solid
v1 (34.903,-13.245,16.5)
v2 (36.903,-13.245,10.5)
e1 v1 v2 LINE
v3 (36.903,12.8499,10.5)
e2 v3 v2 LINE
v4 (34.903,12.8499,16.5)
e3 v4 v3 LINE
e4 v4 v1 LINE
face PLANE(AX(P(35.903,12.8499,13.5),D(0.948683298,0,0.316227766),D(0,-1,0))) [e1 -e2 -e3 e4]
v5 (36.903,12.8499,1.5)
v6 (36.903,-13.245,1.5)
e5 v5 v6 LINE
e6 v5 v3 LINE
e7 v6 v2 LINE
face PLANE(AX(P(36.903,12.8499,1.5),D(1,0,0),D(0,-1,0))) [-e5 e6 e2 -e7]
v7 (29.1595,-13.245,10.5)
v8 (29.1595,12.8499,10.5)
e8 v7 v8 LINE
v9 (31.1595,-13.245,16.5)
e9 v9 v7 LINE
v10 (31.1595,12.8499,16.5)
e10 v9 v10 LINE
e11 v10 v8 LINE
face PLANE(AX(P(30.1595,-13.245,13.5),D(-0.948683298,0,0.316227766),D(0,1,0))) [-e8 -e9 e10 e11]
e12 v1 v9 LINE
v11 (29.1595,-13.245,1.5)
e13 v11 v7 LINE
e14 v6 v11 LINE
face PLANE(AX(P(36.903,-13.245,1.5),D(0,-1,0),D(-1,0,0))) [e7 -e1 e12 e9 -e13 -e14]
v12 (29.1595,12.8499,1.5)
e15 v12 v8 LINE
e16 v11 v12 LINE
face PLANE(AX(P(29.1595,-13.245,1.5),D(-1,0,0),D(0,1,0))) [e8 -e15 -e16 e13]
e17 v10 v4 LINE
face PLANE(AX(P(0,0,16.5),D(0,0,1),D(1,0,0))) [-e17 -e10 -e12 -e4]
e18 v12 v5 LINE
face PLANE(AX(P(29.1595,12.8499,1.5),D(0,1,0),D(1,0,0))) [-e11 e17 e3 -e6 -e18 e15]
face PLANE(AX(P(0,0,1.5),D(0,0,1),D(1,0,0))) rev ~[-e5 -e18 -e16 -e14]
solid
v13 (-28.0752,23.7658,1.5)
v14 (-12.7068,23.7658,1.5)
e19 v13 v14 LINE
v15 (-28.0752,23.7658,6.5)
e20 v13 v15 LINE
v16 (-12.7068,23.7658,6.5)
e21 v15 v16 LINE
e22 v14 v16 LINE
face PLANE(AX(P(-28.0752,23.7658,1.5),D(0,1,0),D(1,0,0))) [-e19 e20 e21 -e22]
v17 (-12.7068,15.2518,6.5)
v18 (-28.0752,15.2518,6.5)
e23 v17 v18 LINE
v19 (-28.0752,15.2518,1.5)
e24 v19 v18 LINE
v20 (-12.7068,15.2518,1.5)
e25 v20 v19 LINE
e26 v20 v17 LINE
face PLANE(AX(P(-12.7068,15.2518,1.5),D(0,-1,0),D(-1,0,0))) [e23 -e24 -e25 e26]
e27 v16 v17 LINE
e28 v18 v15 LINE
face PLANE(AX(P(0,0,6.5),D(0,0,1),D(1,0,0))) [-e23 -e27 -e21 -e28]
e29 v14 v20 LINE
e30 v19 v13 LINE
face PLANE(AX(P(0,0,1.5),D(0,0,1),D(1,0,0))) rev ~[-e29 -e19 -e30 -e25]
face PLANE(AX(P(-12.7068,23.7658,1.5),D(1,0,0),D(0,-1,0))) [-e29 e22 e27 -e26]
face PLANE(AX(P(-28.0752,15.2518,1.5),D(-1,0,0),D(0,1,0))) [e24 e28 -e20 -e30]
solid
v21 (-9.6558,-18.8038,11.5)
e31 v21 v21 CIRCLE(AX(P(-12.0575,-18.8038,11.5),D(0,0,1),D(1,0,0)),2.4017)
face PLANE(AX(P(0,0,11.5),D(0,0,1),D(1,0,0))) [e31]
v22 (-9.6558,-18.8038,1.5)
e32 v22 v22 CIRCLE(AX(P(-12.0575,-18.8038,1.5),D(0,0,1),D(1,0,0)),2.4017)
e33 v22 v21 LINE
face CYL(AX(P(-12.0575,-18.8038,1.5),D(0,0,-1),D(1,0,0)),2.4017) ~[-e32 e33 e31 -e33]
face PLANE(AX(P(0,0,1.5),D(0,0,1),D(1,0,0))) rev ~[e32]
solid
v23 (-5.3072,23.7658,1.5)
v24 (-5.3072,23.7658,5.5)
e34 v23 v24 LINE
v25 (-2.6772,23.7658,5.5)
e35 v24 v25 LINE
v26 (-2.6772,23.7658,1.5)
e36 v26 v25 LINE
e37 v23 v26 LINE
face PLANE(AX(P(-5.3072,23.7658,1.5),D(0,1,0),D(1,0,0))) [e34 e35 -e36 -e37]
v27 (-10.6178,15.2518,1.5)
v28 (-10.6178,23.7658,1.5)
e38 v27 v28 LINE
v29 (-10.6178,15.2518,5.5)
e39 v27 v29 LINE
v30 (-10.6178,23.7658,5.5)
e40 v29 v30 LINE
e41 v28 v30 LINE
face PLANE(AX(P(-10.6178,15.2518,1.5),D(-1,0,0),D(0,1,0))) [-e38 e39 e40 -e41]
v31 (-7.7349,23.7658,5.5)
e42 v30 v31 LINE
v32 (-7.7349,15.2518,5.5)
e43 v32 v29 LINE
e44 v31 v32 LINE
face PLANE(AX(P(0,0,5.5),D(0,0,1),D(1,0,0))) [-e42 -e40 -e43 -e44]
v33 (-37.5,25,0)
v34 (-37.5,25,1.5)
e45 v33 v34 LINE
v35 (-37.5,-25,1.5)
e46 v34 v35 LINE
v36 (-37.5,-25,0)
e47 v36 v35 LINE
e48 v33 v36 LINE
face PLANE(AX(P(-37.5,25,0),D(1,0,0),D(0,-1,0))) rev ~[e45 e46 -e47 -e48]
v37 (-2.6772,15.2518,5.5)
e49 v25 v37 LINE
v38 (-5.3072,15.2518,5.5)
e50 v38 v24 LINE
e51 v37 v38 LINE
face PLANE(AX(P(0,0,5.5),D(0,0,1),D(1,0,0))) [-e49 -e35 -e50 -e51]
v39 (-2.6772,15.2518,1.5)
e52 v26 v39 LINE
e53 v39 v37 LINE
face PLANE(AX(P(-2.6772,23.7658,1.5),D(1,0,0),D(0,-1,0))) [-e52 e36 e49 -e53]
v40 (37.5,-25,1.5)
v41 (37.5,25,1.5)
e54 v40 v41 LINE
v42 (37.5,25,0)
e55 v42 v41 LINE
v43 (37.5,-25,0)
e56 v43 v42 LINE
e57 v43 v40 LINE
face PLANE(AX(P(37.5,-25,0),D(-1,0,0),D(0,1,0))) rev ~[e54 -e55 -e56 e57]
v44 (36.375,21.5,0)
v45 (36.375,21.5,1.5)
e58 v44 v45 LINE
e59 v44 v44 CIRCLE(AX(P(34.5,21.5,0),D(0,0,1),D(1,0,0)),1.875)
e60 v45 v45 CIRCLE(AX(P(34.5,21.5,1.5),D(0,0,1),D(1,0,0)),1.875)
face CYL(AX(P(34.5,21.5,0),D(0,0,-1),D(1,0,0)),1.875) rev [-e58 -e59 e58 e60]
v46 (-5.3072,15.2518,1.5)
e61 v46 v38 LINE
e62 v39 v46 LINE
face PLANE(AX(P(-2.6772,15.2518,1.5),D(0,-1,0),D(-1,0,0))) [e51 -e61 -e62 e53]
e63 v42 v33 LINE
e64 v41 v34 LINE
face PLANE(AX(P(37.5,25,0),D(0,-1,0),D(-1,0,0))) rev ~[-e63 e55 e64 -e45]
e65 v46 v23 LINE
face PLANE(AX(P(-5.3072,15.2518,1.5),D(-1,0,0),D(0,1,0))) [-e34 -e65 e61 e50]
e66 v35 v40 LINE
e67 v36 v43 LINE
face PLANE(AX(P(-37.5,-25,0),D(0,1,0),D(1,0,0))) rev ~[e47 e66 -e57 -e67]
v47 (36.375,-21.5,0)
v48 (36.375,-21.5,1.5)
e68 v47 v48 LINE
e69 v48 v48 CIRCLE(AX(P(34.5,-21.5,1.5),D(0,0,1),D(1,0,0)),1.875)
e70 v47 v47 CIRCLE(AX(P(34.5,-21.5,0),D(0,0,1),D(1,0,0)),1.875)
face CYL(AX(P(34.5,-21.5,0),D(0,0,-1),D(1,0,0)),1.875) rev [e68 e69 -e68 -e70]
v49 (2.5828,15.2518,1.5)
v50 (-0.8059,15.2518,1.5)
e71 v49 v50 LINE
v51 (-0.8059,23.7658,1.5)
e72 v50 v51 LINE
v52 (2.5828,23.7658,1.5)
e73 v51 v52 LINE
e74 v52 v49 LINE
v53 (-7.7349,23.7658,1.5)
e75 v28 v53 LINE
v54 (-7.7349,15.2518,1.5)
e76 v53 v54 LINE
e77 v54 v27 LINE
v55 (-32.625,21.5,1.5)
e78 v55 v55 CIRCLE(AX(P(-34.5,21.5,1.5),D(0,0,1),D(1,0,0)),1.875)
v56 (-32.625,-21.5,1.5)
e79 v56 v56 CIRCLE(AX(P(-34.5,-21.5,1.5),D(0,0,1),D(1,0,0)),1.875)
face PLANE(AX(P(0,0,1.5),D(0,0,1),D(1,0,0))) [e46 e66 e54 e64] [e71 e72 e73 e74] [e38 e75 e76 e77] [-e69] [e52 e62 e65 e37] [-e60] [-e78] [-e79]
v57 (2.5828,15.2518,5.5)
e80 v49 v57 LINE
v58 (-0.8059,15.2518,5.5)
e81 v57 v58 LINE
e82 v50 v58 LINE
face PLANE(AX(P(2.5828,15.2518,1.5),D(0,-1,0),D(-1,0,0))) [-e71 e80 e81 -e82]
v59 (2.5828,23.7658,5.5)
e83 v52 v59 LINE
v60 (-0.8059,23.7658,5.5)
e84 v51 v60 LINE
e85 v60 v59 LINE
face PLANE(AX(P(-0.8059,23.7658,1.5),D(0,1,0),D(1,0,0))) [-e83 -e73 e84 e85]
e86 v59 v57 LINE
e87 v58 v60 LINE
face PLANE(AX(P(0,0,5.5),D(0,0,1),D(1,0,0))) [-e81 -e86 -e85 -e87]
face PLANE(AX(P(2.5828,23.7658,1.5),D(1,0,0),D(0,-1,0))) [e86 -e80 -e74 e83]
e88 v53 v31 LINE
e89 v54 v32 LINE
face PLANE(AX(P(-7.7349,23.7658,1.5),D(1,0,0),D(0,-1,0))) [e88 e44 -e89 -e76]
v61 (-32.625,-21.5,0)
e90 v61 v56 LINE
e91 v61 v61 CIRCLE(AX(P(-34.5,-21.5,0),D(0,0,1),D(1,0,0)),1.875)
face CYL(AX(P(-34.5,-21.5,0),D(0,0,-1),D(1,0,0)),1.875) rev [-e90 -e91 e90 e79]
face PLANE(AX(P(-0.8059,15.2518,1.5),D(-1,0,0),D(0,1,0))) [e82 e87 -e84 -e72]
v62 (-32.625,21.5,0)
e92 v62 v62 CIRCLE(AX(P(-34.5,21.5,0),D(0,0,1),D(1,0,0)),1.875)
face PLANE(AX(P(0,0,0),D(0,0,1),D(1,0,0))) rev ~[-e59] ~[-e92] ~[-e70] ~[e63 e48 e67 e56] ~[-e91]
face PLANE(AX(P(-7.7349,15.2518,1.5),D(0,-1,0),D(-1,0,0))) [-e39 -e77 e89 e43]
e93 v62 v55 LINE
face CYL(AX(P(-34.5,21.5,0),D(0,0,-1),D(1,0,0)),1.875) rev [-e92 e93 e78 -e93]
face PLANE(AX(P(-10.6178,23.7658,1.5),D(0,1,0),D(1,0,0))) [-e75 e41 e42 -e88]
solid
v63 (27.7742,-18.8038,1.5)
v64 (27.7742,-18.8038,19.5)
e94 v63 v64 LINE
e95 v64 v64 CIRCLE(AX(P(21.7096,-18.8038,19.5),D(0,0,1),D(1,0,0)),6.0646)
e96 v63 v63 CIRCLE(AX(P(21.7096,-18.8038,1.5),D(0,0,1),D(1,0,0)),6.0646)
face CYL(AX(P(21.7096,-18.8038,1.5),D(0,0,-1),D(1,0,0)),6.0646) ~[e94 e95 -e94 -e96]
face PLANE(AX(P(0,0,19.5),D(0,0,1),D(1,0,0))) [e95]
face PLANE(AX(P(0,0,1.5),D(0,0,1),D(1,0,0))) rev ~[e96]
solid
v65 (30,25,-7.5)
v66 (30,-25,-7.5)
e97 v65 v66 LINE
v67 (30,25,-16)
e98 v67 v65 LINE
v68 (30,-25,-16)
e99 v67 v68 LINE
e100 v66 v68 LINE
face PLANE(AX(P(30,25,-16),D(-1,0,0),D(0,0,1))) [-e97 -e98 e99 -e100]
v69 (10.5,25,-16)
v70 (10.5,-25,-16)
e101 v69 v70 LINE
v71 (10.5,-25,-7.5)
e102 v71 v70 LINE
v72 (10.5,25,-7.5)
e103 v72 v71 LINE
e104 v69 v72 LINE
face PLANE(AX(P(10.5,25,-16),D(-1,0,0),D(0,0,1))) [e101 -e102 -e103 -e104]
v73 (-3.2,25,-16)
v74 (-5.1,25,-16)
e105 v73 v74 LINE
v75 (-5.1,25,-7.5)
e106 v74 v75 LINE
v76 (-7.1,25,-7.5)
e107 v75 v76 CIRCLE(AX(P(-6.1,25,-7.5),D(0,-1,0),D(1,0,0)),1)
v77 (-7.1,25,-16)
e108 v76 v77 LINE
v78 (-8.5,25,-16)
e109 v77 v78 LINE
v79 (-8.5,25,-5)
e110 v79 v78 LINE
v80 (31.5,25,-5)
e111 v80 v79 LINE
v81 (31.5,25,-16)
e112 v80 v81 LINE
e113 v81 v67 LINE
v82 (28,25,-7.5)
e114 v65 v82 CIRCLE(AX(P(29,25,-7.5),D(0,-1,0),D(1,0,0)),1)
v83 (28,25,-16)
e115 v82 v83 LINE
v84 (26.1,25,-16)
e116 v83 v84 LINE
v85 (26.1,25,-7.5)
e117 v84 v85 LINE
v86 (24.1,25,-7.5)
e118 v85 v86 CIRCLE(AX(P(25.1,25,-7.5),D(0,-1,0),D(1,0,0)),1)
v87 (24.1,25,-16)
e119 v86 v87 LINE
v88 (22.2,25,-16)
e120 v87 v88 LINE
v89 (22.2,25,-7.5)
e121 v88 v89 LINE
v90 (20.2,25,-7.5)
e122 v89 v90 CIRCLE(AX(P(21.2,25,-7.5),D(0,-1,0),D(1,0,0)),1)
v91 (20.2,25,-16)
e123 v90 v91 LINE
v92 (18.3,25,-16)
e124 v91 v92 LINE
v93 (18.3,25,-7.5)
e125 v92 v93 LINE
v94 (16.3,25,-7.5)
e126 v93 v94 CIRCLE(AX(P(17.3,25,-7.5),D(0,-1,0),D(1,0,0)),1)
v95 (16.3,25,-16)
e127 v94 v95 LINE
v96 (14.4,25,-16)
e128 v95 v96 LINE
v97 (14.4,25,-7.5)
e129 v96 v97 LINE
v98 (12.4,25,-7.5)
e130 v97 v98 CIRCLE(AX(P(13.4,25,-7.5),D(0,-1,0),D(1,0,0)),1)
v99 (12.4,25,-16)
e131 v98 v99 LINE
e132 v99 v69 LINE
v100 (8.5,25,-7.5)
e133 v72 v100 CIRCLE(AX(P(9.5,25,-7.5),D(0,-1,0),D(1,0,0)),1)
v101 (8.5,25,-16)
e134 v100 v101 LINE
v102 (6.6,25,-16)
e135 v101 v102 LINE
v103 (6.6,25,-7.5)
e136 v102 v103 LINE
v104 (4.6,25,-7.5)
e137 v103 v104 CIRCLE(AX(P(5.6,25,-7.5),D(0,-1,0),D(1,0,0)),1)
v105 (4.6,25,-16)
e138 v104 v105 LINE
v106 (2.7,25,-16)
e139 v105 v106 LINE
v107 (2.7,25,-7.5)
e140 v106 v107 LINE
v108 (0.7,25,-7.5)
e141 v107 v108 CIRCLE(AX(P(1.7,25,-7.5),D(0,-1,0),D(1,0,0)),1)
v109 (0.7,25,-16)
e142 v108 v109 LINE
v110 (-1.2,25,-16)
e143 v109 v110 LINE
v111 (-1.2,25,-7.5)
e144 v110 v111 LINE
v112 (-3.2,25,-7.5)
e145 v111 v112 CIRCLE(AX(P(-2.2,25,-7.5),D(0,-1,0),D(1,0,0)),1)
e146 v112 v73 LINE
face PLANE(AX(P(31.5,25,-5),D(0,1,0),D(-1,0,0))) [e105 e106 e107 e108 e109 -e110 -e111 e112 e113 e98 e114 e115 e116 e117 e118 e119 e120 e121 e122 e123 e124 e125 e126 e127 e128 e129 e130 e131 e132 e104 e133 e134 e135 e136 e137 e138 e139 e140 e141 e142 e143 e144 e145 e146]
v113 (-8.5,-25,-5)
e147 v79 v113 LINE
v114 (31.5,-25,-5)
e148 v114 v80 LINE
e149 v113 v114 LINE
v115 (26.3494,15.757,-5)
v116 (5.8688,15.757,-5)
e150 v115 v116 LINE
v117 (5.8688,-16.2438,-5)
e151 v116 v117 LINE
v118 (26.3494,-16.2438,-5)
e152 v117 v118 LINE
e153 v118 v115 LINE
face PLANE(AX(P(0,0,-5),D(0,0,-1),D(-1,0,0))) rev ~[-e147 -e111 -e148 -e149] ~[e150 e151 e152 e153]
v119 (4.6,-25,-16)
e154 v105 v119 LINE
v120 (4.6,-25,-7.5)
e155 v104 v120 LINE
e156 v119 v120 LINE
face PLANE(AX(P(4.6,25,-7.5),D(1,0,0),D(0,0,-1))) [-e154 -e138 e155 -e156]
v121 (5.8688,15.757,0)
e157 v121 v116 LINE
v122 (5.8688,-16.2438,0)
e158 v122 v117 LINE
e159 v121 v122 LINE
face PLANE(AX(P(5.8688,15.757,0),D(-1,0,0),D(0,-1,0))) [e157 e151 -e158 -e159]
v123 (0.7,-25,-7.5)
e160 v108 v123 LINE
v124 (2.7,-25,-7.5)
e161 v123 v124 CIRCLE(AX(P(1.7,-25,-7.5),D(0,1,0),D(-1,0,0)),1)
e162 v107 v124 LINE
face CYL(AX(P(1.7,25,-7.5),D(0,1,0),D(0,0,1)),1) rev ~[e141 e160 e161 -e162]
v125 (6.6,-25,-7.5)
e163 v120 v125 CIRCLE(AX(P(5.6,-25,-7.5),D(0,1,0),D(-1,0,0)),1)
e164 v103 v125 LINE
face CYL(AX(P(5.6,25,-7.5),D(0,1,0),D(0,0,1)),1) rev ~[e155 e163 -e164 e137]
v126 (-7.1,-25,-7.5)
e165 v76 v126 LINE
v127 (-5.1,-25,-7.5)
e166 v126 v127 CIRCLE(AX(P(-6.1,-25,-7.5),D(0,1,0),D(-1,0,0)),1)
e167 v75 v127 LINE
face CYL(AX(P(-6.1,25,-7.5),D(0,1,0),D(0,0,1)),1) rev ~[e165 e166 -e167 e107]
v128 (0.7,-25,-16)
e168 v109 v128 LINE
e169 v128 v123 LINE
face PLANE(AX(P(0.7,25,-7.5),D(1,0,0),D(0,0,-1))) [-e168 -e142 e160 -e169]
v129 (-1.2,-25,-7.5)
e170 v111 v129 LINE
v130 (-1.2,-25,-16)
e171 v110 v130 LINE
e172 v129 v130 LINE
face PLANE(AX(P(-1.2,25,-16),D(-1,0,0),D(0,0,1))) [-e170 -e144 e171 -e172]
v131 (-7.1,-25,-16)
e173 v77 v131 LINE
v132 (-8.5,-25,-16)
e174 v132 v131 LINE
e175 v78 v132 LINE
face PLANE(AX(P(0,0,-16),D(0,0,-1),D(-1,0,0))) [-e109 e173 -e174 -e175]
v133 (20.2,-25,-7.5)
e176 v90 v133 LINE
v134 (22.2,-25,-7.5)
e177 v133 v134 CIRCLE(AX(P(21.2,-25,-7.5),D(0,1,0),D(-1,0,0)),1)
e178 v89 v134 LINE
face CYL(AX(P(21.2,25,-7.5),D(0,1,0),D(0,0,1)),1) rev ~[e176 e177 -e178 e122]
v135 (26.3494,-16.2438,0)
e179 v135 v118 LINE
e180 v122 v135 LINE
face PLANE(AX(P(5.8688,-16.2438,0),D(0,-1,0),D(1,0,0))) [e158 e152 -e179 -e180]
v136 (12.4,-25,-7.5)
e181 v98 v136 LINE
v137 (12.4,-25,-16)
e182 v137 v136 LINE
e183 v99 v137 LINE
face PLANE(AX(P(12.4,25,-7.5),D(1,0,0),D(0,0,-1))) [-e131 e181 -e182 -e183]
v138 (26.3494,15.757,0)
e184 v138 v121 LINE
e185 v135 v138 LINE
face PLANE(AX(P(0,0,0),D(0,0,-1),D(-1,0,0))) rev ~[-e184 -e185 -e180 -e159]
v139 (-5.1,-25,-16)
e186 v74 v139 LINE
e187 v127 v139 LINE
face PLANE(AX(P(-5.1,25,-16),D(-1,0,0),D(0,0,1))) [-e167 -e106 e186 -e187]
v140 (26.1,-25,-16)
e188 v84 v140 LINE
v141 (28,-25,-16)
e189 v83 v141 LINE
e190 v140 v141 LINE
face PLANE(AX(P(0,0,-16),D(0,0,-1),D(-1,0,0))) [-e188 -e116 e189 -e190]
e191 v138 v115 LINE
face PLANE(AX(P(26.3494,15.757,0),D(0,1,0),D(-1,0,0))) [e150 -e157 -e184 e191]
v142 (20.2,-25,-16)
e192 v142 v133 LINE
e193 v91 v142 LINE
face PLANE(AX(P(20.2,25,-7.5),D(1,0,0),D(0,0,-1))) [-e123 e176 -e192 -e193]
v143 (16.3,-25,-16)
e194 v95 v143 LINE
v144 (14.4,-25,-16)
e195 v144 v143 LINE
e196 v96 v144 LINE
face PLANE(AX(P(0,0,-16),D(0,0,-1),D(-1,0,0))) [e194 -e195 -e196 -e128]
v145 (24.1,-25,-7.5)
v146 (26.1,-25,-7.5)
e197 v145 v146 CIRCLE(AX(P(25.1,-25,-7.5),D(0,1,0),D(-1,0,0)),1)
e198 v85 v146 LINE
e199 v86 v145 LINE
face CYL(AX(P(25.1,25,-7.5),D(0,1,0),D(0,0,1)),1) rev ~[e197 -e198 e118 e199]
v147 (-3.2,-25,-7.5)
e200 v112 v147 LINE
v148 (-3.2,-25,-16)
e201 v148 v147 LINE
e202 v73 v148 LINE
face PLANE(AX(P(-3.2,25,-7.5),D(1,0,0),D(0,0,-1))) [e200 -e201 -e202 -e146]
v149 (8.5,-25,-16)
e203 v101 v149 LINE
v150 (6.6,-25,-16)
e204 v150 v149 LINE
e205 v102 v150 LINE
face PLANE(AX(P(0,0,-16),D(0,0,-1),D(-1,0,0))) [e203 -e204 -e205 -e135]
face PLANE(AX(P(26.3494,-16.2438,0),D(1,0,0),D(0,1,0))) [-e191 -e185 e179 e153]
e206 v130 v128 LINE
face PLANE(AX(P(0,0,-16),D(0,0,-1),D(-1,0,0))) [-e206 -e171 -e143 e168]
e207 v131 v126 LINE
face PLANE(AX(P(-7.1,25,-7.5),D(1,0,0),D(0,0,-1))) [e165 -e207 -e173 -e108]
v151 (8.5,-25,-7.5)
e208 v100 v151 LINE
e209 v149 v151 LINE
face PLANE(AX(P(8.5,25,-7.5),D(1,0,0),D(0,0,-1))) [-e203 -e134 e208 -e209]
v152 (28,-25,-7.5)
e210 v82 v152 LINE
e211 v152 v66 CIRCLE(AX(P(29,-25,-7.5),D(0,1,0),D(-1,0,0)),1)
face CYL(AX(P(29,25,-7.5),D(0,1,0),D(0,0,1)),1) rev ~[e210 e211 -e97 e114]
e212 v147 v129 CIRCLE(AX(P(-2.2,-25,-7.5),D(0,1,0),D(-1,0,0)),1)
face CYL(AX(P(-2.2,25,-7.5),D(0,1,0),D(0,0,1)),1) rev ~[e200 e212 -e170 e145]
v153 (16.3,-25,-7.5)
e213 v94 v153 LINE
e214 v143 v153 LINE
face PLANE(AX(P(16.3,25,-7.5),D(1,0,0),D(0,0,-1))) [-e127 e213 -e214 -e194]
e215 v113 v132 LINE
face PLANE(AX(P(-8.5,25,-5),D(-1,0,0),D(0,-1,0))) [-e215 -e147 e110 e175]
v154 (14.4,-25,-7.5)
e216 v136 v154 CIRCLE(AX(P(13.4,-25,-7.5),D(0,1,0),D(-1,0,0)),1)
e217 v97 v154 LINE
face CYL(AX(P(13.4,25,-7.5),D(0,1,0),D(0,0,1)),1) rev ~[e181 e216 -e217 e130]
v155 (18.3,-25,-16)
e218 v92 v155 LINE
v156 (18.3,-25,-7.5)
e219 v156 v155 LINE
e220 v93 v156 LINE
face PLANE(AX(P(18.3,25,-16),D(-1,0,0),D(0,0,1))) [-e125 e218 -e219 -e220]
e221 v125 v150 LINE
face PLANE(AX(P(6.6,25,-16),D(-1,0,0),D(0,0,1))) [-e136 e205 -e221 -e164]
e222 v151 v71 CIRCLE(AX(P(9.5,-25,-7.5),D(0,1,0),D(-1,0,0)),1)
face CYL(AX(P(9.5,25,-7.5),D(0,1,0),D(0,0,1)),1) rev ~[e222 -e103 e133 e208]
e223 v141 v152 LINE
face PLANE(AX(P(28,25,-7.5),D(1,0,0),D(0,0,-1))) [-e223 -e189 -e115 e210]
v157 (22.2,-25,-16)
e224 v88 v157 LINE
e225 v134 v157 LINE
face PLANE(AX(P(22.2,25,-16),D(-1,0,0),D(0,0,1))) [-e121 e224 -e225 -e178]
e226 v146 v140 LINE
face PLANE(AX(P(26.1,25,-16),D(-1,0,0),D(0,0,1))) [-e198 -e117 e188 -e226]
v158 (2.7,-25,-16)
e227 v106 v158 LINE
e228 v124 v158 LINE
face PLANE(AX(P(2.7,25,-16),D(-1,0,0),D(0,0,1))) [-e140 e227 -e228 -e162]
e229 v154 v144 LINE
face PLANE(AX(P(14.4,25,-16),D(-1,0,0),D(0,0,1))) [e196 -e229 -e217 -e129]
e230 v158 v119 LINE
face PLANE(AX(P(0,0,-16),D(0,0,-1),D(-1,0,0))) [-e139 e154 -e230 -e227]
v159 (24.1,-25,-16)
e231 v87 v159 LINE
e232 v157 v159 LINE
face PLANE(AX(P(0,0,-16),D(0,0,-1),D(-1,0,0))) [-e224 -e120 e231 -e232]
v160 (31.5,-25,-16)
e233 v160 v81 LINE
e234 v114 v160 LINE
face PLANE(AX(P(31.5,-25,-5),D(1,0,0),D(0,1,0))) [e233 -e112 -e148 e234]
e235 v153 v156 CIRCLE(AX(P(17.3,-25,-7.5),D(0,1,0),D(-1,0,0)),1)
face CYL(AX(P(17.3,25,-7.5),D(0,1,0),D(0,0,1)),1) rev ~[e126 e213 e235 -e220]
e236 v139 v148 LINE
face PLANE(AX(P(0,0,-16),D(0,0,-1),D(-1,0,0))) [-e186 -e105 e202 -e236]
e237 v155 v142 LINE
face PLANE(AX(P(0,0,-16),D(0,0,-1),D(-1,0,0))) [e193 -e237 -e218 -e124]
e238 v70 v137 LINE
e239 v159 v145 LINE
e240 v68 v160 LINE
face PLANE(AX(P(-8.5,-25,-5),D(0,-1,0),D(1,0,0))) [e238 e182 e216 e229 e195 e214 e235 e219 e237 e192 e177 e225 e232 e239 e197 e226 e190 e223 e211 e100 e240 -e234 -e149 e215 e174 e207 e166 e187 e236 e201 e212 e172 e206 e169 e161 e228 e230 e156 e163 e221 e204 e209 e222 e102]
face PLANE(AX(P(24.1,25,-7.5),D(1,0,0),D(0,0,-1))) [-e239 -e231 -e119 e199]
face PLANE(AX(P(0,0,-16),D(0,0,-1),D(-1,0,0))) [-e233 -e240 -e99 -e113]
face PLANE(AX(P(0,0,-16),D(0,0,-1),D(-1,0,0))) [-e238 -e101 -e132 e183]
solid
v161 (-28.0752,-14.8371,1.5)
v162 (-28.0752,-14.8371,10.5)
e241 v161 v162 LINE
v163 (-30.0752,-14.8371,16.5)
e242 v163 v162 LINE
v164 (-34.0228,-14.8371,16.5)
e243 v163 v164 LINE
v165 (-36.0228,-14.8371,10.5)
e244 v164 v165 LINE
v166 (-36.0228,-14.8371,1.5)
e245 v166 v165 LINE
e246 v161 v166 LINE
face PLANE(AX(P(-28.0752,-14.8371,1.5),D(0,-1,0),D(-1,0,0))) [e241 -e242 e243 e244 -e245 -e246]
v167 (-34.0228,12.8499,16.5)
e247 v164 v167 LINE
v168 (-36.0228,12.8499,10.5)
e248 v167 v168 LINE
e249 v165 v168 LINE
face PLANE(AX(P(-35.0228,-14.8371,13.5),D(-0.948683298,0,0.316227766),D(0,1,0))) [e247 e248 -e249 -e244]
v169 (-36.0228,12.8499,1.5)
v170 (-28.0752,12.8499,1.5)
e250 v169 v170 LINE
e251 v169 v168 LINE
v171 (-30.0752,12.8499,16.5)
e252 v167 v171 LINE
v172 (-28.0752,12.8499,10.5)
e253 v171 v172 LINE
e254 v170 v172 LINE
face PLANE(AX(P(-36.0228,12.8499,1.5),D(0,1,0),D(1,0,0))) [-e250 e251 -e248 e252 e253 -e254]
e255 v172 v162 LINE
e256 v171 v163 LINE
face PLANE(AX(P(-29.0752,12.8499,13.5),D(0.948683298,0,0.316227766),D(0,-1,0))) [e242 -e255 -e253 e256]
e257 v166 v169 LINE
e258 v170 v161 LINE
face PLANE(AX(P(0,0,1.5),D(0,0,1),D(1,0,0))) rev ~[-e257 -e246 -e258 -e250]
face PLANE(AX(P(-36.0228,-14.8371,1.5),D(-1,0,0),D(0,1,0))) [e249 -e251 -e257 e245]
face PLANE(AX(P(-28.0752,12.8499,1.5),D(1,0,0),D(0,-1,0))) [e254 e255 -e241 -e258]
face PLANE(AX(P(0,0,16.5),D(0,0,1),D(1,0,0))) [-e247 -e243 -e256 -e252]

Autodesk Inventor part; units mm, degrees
ref_plane "YZ Plane" through (0, 0, 0) normal (1, 0, 0) x (0, 1, 0)
ref_plane "XZ Plane" through (0, 0, 0) normal (0, 1, 0) x (-1, 0, 0)
ref_plane "XY Plane" through (0, 0, 0) normal (0, 0, 1) x (1, 0, 0)
sketch "Skizze1" plane through (0, 0, 0) normal (0, 0, 1) x (1, 0, 0)
  line L0 (-37.5, -25) -> (37.5, -25)
  line L1 (37.5, -25) -> (37.5, 25)
  line L2 (37.5, 25) -> (-37.5, 25)
  line L3 (-37.5, 25) -> (-37.5, -25)
  line L4 (-37.5, -25) -> (37.5, 25) construction
  line L5 (37.5, -25) -> (-37.5, 25) construction
  circle A0 centre (-34.5, 21.5) radius 1.875
  circle A1 centre (-34.5, -21.5) radius 1.875
  line L6 (-34.5, 21.5) -> (-34.5, -21.5) construction
  line L7 (-37.5, 0) -> (37.5, 0) construction
  line L8 (34.5, -21.5) -> (-34.5, -21.5) construction
  line L9 (-34.5, -21.5) -> (-34.5, 21.5) construction
  line L10 (-34.5, 21.5) -> (34.5, 21.5) construction
  line L11 (34.5, 21.5) -> (34.5, -21.5) construction
  line L12 (34.5, -21.5) -> (-34.5, 21.5) construction
  line L13 (-34.5, -21.5) -> (34.5, 21.5) construction
  circle A2 centre (34.5, 21.5) radius 1.875
  circle A3 centre (34.5, -21.5) radius 1.875
  point P0 (0, 0)
  point P1 (-34.5, 0)
  dimension "d0" = 75
  dimension "d1" = 50
  dimension "d2" = 43
  dimension "d3" = 3.75
  dimension "d4" = 69
extrude "Extrusion1" add sketch "Skizze1" along normal blind 1.5
sketch "Skizze2" plane through (0, 0, 1.5) normal (0, 0, 1) x (1, 0, 0)
  circle A0 centre (21.7096, -18.8038) radius 6.0646
  circle A1 centre (-12.0575, -18.8038) radius 2.4017
  line L0 (-28.0752, 23.7658) -> (-12.7068, 23.7658)
  line L1 (-12.7068, 23.7658) -> (-12.7068, 15.2518)
  line L2 (-12.7068, 15.2518) -> (-28.0752, 15.2518)
  line L3 (-28.0752, 15.2518) -> (-28.0752, 23.7658)
  line L4 (-36.0228, 12.8499) -> (-28.0752, 12.8499)
  line L5 (-28.0752, 12.8499) -> (-28.0752, -14.8371)
  line L6 (-28.0752, -14.8371) -> (-36.0228, -14.8371)
  line L7 (-36.0228, -14.8371) -> (-36.0228, 12.8499)
  line L8 (29.1595, 12.8499) -> (36.903, 12.8499)
  line L9 (36.903, 12.8499) -> (36.903, -13.245)
  line L10 (36.903, -13.245) -> (29.1595, -13.245)
  line L11 (29.1595, -13.245) -> (29.1595, 12.8499)
  line L12 (-10.6178, 23.7658) -> (-7.7349, 23.7658)
  line L13 (-7.7349, 23.7658) -> (-7.7349, 15.2518)
  line L14 (-7.7349, 15.2518) -> (-10.6178, 15.2518)
  line L15 (-10.6178, 15.2518) -> (-10.6178, 23.7658)
  line L16 (-5.3072, 23.7658) -> (-2.6772, 23.7658)
  line L17 (-2.6772, 23.7658) -> (-2.6772, 15.2518)
  line L18 (-2.6772, 15.2518) -> (-5.3072, 15.2518)
  line L19 (-5.3072, 15.2518) -> (-5.3072, 23.7658)
  line L20 (-0.8059, 23.7658) -> (2.5828, 23.7658)
  line L21 (2.5828, 23.7658) -> (2.5828, 15.2518)
  line L22 (2.5828, 15.2518) -> (-0.8059, 15.2518)
  line L23 (-0.8059, 15.2518) -> (-0.8059, 23.7658)
  point P0 (0, 0)
extrude "Extrusion2" add sketch "Skizze2" along normal blind 15 separate body contours L4 L5 L6 L7 | L8 L9 L10 L11
extrude "Extrusion3" add sketch "Skizze2" along normal blind 18 separate body contours A0
extrude "Extrusion4" add sketch "Skizze2" along normal blind 10 separate body contours A1
extrude "Extrusion5" add sketch "Skizze2" along normal blind 5 separate body contours L0 L1 L2 L3
extrude "Extrusion6" add sketch "Skizze2" along normal blind 4 contours L12 L13 L14 L15 | L16 L17 L18 L19 | L20 L21 L22 L23 bodies 1
chamfer "Fase1" distance 2 distance2 6 1 edges at (-36.0228, -0.9936, 16.5) measured on face at (-33.3736, 3.6209, 16.5)
chamfer "Fase2" distance 2 distance2 6 1 edges at (-28.0752, -0.9936, 16.5) measured on face at (-32.0403, 3.6209, 16.5)
chamfer "Fase3" distance 2 distance2 6 1 edges at (29.1595, -0.1976, 16.5) measured on face at (31.7407, -4.5467, 16.5)
chamfer "Fase4" distance 2 distance2 6 1 edges at (36.903, -0.1976, 16.5) measured on face at (33.074, 4.1516, 16.5)
sketch "Skizze3" plane through (0, 0, 0) normal (0, 0, -1) x (-1, 0, 0)
  line L0 (-5.8688, -16.2438) -> (-26.3494, -16.2438)
  line L1 (-26.3494, -16.2438) -> (-26.3494, 15.757)
  line L2 (-26.3494, 15.757) -> (-5.8688, 15.757)
  line L3 (-5.8688, 15.757) -> (-5.8688, -16.2438)
  point P0 (0, 0)
extrude "Extrusion7" add sketch "Skizze3" along normal blind 5 separate body
sketch "Skizze4" plane through (0, 0, -5) normal (0, 0, -1) x (-1, 0, 0)
  line L0 (-26.3494, -16.2438) -> (-26.3494, 15.757) projected
  line L1 (-26.3494, 15.757) -> (-5.8688, 15.757) projected
  line L2 (-5.8688, 15.757) -> (-5.8688, -16.2438) projected
  line L3 (-5.8688, -16.2438) -> (-26.3494, -16.2438) projected
  circle A0 centre (-34.5, -21.5) radius 1.875 projected
  circle A1 centre (-34.5, 21.5) radius 1.875 projected
  circle A2 centre (34.5, -21.5) radius 1.875 projected
  circle A3 centre (34.5, 21.5) radius 1.875 projected
  line L4 (37.5, -25) -> (-37.5, -25) projected
  line L5 (37.5, 25) -> (37.5, -25) projected
  line L6 (-37.5, 25) -> (37.5, 25) projected
  line L7 (-37.5, -25) -> (-37.5, 25) projected
  line L8 (8.5, -25) -> (-31.5, -25)
  line L9 (-31.5, -25) -> (-31.5, 25)
  line L10 (-31.5, 25) -> (8.5, 25)
  line L11 (8.5, 25) -> (8.5, -25)
  point P0 (0, 0)
  dimension "d31" = 6
  dimension "d32" = 40
extrude "Extrusion8" add sketch "Skizze4" along normal blind 11 contours L0 L1 L2 L3 | L4 L9 L6 L11 bodies 6
sketch "Skizze5" plane through (-8.5, 25, -5) normal (0, 1, 0) x (1, 0, 0)
  line L0 (40, 0) -> (0, 0) projected
  line L1 (40, 0) -> (40, 11) projected
  line L2 (0, 11) -> (40, 11) projected
  line L3 (0, 0) -> (0, 11) projected
  line L4 (1.4, 11) -> (3.4, 11)
  line L5 (3.4, 11) -> (3.4, 2.5)
  line L6 (2.4, 1.5) -> (2.4, 1.5)
  line L7 (1.4, 2.5) -> (1.4, 11)
  arc A0 (1.4, 2.5) -> (2.4, 1.5) centre (2.4, 2.5) ccw
  arc A1 (2.4, 1.5) -> (3.4, 2.5) centre (2.4, 2.5) ccw
  point P0 (8.5, -5)
  dimension "d35" = 1
  dimension "d36" = 1.4
  dimension "d37" = 2
  dimension "d38" = 1.5
extrude "Extrusion9" cut sketch "Skizze5" against normal through all contours L5 A1 A0 L7 L2 bodies 6
pattern_linear "Rechteckige Anordnung1" count 10 spacing 3.9 along (1, 0, 0) of "Extrusion9" bodies 6
properties part number "StepperDriver"
